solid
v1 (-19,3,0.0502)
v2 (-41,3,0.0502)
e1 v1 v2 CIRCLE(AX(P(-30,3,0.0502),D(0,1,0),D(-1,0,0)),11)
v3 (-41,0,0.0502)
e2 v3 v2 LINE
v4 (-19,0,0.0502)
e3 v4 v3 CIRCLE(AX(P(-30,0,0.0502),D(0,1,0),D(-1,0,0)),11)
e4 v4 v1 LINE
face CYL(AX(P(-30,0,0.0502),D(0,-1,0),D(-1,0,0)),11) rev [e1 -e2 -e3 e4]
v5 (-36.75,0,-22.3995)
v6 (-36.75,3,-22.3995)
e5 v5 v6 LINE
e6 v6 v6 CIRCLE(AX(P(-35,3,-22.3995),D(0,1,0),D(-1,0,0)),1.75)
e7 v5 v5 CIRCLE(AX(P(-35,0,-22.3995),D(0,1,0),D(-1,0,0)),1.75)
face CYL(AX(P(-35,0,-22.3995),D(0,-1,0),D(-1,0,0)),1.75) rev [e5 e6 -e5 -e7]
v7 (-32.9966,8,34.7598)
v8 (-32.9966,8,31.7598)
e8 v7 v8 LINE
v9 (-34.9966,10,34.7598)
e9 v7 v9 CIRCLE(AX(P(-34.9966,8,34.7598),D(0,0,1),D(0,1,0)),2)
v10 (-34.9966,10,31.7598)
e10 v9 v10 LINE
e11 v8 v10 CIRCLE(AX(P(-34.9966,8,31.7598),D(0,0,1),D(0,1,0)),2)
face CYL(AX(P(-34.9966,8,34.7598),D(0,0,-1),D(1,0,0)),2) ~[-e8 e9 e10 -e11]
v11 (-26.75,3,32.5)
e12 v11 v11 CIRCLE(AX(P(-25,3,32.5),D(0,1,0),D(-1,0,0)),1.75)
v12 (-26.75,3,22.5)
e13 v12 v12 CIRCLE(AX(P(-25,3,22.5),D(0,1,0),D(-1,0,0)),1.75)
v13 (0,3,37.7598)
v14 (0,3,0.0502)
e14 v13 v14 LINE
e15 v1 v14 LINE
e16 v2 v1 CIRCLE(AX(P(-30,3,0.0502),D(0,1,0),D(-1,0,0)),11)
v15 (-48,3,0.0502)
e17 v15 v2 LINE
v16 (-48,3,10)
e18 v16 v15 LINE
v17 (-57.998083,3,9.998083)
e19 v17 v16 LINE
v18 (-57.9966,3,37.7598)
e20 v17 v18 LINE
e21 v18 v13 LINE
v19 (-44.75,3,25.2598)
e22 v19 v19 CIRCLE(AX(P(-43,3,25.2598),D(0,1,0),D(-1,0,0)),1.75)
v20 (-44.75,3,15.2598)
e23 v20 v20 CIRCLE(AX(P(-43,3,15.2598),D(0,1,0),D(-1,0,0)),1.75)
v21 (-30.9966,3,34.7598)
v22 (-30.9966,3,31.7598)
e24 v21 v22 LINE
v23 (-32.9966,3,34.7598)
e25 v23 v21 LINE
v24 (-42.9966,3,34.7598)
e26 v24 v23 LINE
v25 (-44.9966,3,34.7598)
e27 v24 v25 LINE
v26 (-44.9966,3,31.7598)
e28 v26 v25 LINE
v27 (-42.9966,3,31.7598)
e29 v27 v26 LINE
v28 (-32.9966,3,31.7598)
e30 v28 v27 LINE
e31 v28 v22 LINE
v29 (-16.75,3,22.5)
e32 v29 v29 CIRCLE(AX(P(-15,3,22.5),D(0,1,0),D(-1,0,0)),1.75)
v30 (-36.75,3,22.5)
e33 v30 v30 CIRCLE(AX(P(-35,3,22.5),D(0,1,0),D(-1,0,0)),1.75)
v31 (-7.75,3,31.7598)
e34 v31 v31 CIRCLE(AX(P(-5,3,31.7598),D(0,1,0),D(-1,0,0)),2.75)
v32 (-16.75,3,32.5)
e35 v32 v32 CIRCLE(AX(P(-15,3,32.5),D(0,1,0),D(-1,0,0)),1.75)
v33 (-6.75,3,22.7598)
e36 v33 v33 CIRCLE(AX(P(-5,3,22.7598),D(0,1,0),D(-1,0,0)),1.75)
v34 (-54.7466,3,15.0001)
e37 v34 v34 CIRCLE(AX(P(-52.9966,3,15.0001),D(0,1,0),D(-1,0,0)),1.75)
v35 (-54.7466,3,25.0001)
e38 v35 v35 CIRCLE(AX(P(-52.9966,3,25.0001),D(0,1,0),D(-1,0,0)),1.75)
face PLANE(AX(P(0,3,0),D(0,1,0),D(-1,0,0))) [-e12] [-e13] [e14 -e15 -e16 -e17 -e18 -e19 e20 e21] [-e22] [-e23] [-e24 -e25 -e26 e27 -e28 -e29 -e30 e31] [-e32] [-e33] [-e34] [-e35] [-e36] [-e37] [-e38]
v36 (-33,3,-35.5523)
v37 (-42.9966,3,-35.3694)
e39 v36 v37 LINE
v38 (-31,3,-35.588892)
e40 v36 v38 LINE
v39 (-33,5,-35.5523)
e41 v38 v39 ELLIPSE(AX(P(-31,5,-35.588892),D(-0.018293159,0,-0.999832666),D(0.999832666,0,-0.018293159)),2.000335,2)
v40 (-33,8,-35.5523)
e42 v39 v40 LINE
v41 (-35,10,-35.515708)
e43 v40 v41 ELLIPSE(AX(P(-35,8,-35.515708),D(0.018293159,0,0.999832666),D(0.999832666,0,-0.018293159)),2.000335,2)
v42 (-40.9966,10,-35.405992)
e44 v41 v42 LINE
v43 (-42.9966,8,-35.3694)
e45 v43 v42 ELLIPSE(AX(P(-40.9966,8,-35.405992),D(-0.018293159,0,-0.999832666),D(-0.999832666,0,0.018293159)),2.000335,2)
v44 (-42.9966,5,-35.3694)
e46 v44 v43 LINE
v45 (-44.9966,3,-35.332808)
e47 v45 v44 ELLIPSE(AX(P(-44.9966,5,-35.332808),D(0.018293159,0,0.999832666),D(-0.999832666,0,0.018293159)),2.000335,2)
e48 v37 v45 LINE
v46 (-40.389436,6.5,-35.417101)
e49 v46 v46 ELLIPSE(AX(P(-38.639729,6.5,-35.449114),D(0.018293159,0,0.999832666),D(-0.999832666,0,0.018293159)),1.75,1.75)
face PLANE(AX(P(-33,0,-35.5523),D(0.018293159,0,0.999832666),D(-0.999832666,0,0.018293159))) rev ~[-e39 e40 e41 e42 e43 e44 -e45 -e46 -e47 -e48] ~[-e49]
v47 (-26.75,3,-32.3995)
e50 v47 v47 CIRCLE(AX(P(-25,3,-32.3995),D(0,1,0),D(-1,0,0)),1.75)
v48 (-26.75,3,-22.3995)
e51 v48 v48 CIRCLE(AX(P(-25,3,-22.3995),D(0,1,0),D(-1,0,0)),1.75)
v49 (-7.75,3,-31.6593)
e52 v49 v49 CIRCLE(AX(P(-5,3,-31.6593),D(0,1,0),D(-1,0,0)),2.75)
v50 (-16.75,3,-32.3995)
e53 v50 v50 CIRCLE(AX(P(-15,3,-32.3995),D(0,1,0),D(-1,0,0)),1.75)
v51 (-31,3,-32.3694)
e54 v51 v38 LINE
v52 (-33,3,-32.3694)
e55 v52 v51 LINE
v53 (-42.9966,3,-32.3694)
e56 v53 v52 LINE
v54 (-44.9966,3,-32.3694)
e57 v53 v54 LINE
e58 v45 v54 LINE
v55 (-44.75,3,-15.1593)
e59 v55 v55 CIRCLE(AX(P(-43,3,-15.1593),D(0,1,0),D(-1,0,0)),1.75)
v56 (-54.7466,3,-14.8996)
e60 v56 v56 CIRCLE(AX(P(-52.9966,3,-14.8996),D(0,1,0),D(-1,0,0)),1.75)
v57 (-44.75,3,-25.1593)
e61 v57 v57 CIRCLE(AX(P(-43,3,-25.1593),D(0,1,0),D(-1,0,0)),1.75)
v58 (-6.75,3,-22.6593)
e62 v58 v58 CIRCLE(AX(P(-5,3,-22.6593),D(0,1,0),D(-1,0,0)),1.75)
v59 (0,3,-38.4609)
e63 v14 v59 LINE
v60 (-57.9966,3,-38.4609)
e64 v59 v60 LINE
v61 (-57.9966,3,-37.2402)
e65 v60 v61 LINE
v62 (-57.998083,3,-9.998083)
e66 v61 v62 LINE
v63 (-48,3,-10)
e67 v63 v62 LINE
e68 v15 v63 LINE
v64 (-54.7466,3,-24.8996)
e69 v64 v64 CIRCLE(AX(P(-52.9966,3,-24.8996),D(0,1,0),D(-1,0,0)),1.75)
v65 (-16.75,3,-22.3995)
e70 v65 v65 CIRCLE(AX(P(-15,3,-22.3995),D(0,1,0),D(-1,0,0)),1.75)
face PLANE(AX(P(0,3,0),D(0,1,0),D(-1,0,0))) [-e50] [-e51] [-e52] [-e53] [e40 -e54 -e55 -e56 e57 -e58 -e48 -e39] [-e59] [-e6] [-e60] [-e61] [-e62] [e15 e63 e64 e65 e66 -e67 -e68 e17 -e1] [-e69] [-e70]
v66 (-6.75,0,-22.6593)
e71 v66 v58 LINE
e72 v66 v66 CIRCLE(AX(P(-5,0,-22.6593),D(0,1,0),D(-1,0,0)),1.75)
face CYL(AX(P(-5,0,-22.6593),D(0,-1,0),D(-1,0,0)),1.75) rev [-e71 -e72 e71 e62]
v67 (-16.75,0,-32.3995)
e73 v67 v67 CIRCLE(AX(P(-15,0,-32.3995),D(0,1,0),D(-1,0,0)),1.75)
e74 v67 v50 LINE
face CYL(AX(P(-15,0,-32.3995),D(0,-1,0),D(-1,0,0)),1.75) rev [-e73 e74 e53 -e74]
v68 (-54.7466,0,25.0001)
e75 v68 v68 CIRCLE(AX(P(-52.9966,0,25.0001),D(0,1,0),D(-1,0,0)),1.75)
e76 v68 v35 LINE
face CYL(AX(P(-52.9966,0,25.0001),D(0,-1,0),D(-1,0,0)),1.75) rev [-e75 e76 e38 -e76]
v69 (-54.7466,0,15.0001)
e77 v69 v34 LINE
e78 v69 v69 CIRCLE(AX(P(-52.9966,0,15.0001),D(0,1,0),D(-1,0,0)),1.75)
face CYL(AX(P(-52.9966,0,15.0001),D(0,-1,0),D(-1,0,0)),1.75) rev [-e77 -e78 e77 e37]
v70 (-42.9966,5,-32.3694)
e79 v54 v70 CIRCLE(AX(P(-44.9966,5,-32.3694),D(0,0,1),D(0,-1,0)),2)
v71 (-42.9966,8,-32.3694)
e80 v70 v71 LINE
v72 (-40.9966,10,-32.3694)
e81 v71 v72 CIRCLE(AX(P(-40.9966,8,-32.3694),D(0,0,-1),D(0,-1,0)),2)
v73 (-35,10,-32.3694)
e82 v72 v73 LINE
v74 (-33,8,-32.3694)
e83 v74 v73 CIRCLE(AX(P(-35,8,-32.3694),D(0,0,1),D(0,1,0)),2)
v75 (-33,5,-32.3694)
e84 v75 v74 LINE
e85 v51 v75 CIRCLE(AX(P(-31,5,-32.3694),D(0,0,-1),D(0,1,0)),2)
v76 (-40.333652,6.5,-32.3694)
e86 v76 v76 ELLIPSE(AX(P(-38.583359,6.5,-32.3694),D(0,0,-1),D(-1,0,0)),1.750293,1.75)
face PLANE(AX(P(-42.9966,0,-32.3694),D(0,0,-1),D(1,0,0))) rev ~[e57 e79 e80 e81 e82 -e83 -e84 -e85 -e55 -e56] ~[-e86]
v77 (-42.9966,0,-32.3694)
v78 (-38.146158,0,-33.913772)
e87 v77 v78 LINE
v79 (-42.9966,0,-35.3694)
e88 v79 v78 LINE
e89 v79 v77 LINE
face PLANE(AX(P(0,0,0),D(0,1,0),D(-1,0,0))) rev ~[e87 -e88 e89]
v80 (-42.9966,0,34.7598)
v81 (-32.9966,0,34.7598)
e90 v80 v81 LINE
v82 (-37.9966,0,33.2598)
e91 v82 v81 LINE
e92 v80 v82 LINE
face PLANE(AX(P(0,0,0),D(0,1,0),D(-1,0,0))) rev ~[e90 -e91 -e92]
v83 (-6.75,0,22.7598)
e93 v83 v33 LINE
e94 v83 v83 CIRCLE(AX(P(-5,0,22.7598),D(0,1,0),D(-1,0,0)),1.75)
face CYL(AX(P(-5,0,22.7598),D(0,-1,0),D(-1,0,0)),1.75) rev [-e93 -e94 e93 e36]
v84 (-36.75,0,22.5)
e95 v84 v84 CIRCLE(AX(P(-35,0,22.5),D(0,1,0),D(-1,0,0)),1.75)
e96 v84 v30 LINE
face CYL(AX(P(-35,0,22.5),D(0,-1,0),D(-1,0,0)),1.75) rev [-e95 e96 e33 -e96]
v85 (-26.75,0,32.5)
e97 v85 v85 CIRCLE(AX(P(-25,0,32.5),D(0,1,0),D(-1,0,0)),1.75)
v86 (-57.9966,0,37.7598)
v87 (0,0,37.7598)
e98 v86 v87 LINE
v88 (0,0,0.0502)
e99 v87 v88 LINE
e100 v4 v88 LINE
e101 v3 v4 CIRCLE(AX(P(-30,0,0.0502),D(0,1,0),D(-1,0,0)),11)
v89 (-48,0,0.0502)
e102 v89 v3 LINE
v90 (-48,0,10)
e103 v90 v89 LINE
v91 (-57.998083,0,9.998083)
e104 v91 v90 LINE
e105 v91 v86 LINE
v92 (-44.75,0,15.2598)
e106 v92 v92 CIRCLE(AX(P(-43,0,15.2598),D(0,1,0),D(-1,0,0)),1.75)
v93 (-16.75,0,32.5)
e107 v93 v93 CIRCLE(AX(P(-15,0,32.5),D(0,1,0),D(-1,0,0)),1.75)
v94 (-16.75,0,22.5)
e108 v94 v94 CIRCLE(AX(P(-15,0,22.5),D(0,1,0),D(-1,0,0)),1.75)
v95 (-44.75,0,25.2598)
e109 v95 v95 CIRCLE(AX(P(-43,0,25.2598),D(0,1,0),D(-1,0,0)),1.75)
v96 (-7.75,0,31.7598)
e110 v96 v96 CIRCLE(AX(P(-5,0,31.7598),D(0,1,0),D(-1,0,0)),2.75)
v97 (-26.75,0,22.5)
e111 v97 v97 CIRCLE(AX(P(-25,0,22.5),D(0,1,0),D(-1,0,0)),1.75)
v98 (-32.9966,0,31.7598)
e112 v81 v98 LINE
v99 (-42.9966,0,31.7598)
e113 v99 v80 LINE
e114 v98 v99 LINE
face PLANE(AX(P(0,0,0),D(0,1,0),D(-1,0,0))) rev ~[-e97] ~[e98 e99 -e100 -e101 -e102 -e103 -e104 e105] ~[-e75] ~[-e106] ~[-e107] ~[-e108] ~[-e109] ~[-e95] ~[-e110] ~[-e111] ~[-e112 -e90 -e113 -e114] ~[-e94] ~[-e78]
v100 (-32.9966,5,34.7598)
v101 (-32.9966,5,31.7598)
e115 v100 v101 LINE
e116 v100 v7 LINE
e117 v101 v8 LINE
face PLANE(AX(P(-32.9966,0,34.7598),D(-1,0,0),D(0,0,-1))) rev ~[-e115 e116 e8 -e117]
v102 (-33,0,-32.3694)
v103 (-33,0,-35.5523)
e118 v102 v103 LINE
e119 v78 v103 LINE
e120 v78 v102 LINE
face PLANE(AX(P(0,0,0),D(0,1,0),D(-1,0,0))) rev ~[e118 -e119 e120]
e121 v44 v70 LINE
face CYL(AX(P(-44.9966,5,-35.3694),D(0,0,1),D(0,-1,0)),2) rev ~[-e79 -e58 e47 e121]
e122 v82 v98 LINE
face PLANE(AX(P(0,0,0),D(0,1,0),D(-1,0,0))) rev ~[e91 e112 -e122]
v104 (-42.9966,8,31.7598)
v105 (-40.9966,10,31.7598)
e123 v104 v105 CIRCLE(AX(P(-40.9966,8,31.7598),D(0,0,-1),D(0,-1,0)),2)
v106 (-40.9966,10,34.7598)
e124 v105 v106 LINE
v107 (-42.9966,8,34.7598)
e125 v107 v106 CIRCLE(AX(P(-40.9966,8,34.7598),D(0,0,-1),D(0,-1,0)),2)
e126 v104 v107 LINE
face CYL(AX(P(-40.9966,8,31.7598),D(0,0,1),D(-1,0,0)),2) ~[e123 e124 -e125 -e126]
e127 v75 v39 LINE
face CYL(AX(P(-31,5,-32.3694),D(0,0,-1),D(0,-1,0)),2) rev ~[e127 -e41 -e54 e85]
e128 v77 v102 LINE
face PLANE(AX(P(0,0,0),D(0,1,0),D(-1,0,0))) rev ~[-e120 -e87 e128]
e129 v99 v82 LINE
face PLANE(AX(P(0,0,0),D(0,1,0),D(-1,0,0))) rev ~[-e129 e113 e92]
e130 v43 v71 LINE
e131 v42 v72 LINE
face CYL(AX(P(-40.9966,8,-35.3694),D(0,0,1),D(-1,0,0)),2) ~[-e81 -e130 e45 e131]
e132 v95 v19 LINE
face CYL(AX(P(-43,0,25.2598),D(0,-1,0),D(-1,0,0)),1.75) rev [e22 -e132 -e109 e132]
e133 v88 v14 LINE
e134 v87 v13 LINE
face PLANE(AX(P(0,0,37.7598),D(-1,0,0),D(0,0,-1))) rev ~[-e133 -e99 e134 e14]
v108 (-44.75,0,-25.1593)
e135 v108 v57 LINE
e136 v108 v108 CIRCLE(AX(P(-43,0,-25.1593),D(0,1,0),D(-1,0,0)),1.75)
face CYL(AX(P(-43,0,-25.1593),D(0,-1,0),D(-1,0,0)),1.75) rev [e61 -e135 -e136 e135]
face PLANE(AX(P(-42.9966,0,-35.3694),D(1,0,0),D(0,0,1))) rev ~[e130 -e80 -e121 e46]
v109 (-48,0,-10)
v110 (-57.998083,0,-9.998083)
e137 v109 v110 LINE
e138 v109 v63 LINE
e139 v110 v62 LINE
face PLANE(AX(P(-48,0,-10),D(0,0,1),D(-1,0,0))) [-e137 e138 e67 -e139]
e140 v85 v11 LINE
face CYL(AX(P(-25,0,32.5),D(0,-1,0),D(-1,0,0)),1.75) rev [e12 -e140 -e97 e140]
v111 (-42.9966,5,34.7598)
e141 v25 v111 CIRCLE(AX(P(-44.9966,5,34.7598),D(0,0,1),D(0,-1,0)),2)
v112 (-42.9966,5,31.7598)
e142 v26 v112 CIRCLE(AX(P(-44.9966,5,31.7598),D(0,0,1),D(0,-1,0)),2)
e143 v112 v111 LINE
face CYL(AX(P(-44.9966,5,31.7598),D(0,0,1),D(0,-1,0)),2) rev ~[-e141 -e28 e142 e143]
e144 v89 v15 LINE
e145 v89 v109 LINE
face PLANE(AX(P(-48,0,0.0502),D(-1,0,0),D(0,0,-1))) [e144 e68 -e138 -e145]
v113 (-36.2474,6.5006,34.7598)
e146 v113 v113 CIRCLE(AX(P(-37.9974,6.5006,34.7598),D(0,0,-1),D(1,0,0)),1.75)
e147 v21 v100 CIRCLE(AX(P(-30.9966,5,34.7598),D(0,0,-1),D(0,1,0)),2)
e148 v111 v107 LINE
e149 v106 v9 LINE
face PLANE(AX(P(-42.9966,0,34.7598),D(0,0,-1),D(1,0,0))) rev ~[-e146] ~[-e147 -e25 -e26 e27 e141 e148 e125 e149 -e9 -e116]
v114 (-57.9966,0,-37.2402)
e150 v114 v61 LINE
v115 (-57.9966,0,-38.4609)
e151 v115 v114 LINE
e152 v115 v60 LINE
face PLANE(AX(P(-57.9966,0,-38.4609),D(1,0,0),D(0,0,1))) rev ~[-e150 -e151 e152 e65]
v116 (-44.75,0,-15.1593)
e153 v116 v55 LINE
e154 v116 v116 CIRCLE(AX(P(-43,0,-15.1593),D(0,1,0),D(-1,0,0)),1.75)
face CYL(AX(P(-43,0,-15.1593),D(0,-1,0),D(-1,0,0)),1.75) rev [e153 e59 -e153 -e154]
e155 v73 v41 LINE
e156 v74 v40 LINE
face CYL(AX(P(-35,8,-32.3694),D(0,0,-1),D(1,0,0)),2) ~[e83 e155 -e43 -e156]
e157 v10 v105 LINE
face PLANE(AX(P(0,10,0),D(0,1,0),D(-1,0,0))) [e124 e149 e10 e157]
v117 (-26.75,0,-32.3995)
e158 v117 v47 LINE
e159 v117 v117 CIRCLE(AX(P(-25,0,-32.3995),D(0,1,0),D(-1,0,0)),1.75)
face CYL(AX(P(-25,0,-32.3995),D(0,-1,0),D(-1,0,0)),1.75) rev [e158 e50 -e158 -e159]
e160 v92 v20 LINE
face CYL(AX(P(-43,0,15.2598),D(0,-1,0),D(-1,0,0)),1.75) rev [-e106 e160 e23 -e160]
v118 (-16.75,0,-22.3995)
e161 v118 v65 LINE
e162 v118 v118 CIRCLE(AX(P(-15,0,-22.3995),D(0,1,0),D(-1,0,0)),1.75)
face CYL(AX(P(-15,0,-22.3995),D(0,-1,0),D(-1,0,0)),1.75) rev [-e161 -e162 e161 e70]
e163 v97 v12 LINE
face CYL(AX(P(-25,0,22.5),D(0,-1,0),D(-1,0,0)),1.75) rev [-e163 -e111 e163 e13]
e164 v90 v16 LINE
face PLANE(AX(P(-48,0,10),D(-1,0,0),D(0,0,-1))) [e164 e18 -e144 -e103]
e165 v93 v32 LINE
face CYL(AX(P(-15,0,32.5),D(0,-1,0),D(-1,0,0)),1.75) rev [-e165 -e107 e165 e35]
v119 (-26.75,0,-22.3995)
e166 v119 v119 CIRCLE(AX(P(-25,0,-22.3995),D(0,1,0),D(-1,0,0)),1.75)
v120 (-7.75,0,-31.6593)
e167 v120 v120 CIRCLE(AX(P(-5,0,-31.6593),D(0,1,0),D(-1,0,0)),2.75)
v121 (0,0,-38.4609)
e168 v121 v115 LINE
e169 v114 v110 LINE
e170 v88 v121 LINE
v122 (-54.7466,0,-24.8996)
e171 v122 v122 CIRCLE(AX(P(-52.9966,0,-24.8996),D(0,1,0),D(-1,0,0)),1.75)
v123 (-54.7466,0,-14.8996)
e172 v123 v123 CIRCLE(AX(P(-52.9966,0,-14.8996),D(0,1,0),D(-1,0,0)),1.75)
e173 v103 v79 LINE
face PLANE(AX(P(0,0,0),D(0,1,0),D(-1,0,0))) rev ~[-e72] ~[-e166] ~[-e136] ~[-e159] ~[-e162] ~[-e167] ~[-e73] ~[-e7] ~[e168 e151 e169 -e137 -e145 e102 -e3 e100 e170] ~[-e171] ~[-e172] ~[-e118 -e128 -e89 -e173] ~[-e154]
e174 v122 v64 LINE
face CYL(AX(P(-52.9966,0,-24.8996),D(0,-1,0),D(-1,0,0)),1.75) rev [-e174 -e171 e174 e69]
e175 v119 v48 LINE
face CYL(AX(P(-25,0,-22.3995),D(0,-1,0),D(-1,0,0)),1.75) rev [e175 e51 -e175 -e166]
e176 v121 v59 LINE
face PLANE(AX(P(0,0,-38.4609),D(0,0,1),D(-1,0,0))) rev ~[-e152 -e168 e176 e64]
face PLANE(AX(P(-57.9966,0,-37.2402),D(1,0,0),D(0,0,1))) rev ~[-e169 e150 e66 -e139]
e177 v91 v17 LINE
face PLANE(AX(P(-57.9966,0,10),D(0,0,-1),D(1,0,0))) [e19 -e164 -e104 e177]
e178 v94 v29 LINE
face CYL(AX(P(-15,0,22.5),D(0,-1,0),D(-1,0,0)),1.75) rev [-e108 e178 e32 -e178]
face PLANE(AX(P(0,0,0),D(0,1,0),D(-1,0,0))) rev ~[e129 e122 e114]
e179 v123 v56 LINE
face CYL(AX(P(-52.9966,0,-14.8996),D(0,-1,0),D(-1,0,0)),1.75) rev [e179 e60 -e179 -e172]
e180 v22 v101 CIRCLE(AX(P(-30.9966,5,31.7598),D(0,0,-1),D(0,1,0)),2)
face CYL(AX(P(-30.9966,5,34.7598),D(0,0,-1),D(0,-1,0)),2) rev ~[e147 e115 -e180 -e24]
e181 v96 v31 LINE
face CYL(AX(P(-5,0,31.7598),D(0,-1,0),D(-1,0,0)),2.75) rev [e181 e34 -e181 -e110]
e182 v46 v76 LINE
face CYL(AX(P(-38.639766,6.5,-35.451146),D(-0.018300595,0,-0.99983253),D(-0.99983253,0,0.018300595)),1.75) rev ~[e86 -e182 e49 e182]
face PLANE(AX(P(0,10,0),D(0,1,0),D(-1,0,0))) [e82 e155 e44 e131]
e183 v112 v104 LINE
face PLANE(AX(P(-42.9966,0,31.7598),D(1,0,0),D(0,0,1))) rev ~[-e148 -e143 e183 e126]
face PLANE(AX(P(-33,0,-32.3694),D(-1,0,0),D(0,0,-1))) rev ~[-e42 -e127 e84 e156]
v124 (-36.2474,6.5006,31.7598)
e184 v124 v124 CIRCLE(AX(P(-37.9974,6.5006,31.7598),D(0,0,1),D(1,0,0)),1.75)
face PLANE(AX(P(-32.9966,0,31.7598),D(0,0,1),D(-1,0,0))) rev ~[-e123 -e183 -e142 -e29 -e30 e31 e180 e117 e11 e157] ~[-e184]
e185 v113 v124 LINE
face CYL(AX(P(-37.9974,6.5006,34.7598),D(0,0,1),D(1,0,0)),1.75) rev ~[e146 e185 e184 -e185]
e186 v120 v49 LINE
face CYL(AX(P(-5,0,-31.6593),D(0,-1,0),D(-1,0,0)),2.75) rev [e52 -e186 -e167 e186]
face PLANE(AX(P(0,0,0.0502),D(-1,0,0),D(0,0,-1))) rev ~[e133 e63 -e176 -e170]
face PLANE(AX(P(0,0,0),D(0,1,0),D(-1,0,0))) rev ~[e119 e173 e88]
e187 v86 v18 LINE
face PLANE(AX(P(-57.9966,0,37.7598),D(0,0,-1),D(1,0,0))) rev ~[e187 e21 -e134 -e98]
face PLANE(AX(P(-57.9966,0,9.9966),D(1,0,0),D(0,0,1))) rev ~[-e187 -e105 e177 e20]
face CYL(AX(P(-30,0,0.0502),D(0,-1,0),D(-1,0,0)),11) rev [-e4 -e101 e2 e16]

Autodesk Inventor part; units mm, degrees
ref_plane "YZ Plane" through (0, 0, 0) normal (1, 0, 0) x (0, 1, 0)
ref_plane "XZ Plane" through (0, 0, 0) normal (0, 1, 0) x (-1, 0, 0)
ref_plane "XY Plane" through (0, 0, 0) normal (0, 0, 1) x (1, 0, 0)
sketch "Esquisse1" plane through (0, 0, 0) normal (0, 1, 0) x (-1, 0, 0)
  line L0 (57.9966, -37.2402) -> (57.9966, 37.7598)
  circle A0 centre (52.9966, 25.0001) radius 1.75
  circle A1 centre (52.9966, 15.0001) radius 1.75
  line L1 (67, 0.0502) -> (-72, 0.0502)
  circle A2 centre (43, 25.2598) radius 1.75
  circle A3 centre (43, 15.2598) radius 1.75
  circle A4 centre (52.9966, -24.8996) radius 1.75
  circle A5 centre (52.9966, -14.8996) radius 1.75
  circle A6 centre (43, -25.1593) radius 1.75
  circle A7 centre (43, -15.1593) radius 1.75
  line L2 (0, 58.3407) -> (0, -80.6593)
  circle A8 centre (5, 31.7598) radius 2.75
  circle A9 centre (5, 22.7598) radius 1.75
  circle A10 centre (15, 32.5) radius 1.75
  circle A11 centre (15, 22.5) radius 1.75
  circle A12 centre (25, 32.5) radius 1.75
  circle A13 centre (25, 22.5) radius 1.75
  circle A14 centre (35, 22.5) radius 1.75
  circle A15 centre (5, -31.6593) radius 2.75
  circle A16 centre (5, -22.6593) radius 1.75
  circle A17 centre (15, -32.3995) radius 1.75
  circle A18 centre (15, -22.3995) radius 1.75
  circle A19 centre (25, -32.3995) radius 1.75
  circle A20 centre (25, -22.3995) radius 1.75
  circle A21 centre (35, -22.3995) radius 1.75
  line L3 (58, 10) -> (48, 10)
  line L4 (48, 10) -> (48, -10)
  line L5 (48, -10) -> (58, -10)
  line L6 (58, -10) -> (58, 10)
  line L7 (58, 10) -> (48, -10)
  line L8 (48, 10) -> (58, -10)
  line L9 (57.9966, 37.7598) -> (0, 37.7598)
  line L10 (0, -38.4609) -> (57.9966, -38.4609)
  line L11 (57.9966, -38.4609) -> (57.9966, 37.7598)
  line L12 (57.9966, 37.7598) -> (0, 37.7598)
  line L13 (0, 37.7598) -> (0, -38.4609)
  circle A22 centre (30, 0.0502) radius 11
  line L14 (42.9966, -35.3694) -> (42.9966, -32.3694)
  line L15 (42.9966, -32.3694) -> (33, -32.3694)
  line L16 (42.9966, -32.3694) -> (33, -35.5523)
  line L17 (42.9966, -35.3694) -> (33, -32.3694)
  line L18 (33, -32.3694) -> (33, -35.5523)
  line L19 (33, -35.5523) -> (42.9966, -35.3694)
  line L20 (42.9966, 31.7598) -> (42.9966, 34.7598)
  line L21 (42.9966, 34.7598) -> (32.9966, 34.7598)
  line L22 (42.9966, 34.7598) -> (32.9966, 31.7598)
  line L23 (42.9966, 31.7598) -> (32.9966, 34.7598)
  line L24 (32.9966, 34.7598) -> (32.9966, 31.7598)
  line L25 (32.9966, 31.7598) -> (42.9966, 31.7598)
  point P0 (0, 0)
  point P1 (0, 0)
  point P2 (0, 0)
  point P3 (53, 0)
  point P4 (57.9966, -10)
  point P5 (57.9966, 10)
  point P6 (38.783, -33.8694)
  point P7 (42.5405, 34.5217)
  point P8 (42.9966, -33.8694)
  point P9 (42.9966, 33.2598)
  point P10 (37.9983, -35.4609)
  dimension "d3" = 3.5
  dimension "d4" = 3.5
  dimension "d7" = 10
  dimension "d9" = 3.5
  dimension "d10" = 3.5
  dimension "d12" = 10
  dimension "d13" = 10
  dimension "d16" = 5
  dimension "d17" = 5
  dimension "d19" = 5.5
  dimension "d20" = 3.5
  dimension "d21" = 3.5
  dimension "d22" = 3.5
  dimension "d23" = 3.5
  dimension "d24" = 3.5
  dimension "d26" = 3.5
  dimension "d27" = 5
  dimension "d28" = 5
  dimension "d31" = 10
  dimension "d32" = 10
  dimension "d33" = 10
  dimension "d35" = 10
  dimension "d36" = 10
  dimension "d38" = 10
  dimension "d40" = 10
  dimension "d70" = 9
  dimension "d72" = 5
  dimension "d73" = 6
  dimension "d77" = 22
  dimension "d80" = 139
  dimension "d81" = 75
  dimension "d83" = 15
  dimension "d85" = 3
  dimension "d86" = 15
  dimension "d87" = 3
  dimension "d115" = 30
extrude "Extrusion1" add sketch "Esquisse1" along normal blind 3 contours L8 L7 L1 L0 | L5 L7 L8 | L1 L7 L0 | L4 L1 L8 L7 | L8 L1 L7 | L7 L1 L8 L3 | L4 L8 L1
sketch "Esquisse4" plane through (0, 3, 0) normal (0, 1, 0) x (1, 0, 0)
  point P0 (0, 0)
sketch "Esquisse5" plane through (0, 0, 0) normal (0, -1, 0) x (1, 0, 0)
  point P0 (0, 0)
sketch "Esquisse6" plane through (0, 0, 0) normal (0, -1, 0) x (1, 0, 0)
  point P0 (0, 0)
sketch "Esquisse7" plane through (0, 0, 0) normal (0, -1, 0) x (1, 0, 0)
  point P0 (0, 0)
sketch "Esquisse8" plane through (0, 0, 0) normal (0, -1, 0) x (1, 0, 0)
  point P0 (0, 0)
extrude "Extrusion5" cut sketch "Esquisse1" along normal blind 3 contours L8 L7 L1 L0 | L5 L7 L8 | L1 L7 L0 | L4 L1 L8 L7 | L8 L1 L7 | L7 L1 L8 L3 | L4 L8 L1 | A22 L1 | L1 A22
extrude "Extrusion7" add sketch "Esquisse1" along normal blind 3 contours L11 L10 L2 L1 A22 L4 L5 L0 | L3 L4 L1 A22 L2 L9 L0 | L17 L16 L14 | L19 L16 L17 | L16 L17 L15 | L16 L18 L17 | L23 L22 L20 | L25 L22 L23 | L22 L23 L21 | L22 L24 L23
extrude "Extrusion8" add sketch "Esquisse1" along normal blind 10 contours L23 L22 L20 | L25 L22 L23 | L22 L23 L21 | L22 L24 L23
extrude "Extrusion9" add sketch "Esquisse1" along normal blind 10 contours L17 L16 L14 | L19 L16 L17 | L16 L17 L15 | L16 L18 L17
sketch "Esquisse10" plane through (-42.9966, 3, -35.3694) normal (-0.0183, 0, -0.9998) x (-0.9998, 0, 0.0183)
  line L0 (1.2831, 0) -> (1.2831, 7) projected
  line L1 (1.2831, 7) -> (-10, 0)
  line L2 (-43.046, 0) -> (14.9409, 0) projected
  line L3 (-9.9983, 7) -> (0, 7) projected
  line L4 (1.2831, 0) -> (-9.9983, 7)
  circle A0 centre (-4.3576, 3.5) radius 1.75
  point P0 (-42.3423, -3)
  dimension "d108" = 3.5
sketch "Esquisse11" plane through (-42.9966, 3, 34.7598) normal (0, 0, 1) x (1, 0, 0)
  line L0 (10, 0) -> (10, 7) projected
  line L1 (10, 7) -> (-0.0034, 0)
  line L2 (-1.7534, 0) -> (1.7466, 0) projected
  line L3 (42.9966, 0) -> (-15, 0) projected
  line L4 (0, 0) -> (0, 7) projected
  line L5 (10, 0) -> (0, 7)
  circle A0 centre (4.9992, 3.5006) radius 1.75
  point P0 (42.9966, -3)
  dimension "d109" = 3.5
extrude "Extrusion10" cut sketch "Esquisse11" against normal blind 3.5 contours A0 L1 L5 | L5 L1 A0 | L1 L5 A0 | L1 A0 L5
extrude "Extrusion11" cut sketch "Esquisse10" against normal blind 3.5 contours A0 L1 L4 | L4 L1 A0 | L1 L4 A0 | A0 L4 L1
fillet "Congé10" radius 2 8 edges at (-42.9966, 10, -33.8694) (-42.9966, 3, -33.8694) (-33, 10, -33.9609) (-33, 3, -33.9609) (-32.9966, 10, 33.2598) (-32.9966, 3, 33.2598) (-42.9966, 10, 33.2598) (-42.9966, 3, 33.2598)
properties part number "toit_Impression 3D"
